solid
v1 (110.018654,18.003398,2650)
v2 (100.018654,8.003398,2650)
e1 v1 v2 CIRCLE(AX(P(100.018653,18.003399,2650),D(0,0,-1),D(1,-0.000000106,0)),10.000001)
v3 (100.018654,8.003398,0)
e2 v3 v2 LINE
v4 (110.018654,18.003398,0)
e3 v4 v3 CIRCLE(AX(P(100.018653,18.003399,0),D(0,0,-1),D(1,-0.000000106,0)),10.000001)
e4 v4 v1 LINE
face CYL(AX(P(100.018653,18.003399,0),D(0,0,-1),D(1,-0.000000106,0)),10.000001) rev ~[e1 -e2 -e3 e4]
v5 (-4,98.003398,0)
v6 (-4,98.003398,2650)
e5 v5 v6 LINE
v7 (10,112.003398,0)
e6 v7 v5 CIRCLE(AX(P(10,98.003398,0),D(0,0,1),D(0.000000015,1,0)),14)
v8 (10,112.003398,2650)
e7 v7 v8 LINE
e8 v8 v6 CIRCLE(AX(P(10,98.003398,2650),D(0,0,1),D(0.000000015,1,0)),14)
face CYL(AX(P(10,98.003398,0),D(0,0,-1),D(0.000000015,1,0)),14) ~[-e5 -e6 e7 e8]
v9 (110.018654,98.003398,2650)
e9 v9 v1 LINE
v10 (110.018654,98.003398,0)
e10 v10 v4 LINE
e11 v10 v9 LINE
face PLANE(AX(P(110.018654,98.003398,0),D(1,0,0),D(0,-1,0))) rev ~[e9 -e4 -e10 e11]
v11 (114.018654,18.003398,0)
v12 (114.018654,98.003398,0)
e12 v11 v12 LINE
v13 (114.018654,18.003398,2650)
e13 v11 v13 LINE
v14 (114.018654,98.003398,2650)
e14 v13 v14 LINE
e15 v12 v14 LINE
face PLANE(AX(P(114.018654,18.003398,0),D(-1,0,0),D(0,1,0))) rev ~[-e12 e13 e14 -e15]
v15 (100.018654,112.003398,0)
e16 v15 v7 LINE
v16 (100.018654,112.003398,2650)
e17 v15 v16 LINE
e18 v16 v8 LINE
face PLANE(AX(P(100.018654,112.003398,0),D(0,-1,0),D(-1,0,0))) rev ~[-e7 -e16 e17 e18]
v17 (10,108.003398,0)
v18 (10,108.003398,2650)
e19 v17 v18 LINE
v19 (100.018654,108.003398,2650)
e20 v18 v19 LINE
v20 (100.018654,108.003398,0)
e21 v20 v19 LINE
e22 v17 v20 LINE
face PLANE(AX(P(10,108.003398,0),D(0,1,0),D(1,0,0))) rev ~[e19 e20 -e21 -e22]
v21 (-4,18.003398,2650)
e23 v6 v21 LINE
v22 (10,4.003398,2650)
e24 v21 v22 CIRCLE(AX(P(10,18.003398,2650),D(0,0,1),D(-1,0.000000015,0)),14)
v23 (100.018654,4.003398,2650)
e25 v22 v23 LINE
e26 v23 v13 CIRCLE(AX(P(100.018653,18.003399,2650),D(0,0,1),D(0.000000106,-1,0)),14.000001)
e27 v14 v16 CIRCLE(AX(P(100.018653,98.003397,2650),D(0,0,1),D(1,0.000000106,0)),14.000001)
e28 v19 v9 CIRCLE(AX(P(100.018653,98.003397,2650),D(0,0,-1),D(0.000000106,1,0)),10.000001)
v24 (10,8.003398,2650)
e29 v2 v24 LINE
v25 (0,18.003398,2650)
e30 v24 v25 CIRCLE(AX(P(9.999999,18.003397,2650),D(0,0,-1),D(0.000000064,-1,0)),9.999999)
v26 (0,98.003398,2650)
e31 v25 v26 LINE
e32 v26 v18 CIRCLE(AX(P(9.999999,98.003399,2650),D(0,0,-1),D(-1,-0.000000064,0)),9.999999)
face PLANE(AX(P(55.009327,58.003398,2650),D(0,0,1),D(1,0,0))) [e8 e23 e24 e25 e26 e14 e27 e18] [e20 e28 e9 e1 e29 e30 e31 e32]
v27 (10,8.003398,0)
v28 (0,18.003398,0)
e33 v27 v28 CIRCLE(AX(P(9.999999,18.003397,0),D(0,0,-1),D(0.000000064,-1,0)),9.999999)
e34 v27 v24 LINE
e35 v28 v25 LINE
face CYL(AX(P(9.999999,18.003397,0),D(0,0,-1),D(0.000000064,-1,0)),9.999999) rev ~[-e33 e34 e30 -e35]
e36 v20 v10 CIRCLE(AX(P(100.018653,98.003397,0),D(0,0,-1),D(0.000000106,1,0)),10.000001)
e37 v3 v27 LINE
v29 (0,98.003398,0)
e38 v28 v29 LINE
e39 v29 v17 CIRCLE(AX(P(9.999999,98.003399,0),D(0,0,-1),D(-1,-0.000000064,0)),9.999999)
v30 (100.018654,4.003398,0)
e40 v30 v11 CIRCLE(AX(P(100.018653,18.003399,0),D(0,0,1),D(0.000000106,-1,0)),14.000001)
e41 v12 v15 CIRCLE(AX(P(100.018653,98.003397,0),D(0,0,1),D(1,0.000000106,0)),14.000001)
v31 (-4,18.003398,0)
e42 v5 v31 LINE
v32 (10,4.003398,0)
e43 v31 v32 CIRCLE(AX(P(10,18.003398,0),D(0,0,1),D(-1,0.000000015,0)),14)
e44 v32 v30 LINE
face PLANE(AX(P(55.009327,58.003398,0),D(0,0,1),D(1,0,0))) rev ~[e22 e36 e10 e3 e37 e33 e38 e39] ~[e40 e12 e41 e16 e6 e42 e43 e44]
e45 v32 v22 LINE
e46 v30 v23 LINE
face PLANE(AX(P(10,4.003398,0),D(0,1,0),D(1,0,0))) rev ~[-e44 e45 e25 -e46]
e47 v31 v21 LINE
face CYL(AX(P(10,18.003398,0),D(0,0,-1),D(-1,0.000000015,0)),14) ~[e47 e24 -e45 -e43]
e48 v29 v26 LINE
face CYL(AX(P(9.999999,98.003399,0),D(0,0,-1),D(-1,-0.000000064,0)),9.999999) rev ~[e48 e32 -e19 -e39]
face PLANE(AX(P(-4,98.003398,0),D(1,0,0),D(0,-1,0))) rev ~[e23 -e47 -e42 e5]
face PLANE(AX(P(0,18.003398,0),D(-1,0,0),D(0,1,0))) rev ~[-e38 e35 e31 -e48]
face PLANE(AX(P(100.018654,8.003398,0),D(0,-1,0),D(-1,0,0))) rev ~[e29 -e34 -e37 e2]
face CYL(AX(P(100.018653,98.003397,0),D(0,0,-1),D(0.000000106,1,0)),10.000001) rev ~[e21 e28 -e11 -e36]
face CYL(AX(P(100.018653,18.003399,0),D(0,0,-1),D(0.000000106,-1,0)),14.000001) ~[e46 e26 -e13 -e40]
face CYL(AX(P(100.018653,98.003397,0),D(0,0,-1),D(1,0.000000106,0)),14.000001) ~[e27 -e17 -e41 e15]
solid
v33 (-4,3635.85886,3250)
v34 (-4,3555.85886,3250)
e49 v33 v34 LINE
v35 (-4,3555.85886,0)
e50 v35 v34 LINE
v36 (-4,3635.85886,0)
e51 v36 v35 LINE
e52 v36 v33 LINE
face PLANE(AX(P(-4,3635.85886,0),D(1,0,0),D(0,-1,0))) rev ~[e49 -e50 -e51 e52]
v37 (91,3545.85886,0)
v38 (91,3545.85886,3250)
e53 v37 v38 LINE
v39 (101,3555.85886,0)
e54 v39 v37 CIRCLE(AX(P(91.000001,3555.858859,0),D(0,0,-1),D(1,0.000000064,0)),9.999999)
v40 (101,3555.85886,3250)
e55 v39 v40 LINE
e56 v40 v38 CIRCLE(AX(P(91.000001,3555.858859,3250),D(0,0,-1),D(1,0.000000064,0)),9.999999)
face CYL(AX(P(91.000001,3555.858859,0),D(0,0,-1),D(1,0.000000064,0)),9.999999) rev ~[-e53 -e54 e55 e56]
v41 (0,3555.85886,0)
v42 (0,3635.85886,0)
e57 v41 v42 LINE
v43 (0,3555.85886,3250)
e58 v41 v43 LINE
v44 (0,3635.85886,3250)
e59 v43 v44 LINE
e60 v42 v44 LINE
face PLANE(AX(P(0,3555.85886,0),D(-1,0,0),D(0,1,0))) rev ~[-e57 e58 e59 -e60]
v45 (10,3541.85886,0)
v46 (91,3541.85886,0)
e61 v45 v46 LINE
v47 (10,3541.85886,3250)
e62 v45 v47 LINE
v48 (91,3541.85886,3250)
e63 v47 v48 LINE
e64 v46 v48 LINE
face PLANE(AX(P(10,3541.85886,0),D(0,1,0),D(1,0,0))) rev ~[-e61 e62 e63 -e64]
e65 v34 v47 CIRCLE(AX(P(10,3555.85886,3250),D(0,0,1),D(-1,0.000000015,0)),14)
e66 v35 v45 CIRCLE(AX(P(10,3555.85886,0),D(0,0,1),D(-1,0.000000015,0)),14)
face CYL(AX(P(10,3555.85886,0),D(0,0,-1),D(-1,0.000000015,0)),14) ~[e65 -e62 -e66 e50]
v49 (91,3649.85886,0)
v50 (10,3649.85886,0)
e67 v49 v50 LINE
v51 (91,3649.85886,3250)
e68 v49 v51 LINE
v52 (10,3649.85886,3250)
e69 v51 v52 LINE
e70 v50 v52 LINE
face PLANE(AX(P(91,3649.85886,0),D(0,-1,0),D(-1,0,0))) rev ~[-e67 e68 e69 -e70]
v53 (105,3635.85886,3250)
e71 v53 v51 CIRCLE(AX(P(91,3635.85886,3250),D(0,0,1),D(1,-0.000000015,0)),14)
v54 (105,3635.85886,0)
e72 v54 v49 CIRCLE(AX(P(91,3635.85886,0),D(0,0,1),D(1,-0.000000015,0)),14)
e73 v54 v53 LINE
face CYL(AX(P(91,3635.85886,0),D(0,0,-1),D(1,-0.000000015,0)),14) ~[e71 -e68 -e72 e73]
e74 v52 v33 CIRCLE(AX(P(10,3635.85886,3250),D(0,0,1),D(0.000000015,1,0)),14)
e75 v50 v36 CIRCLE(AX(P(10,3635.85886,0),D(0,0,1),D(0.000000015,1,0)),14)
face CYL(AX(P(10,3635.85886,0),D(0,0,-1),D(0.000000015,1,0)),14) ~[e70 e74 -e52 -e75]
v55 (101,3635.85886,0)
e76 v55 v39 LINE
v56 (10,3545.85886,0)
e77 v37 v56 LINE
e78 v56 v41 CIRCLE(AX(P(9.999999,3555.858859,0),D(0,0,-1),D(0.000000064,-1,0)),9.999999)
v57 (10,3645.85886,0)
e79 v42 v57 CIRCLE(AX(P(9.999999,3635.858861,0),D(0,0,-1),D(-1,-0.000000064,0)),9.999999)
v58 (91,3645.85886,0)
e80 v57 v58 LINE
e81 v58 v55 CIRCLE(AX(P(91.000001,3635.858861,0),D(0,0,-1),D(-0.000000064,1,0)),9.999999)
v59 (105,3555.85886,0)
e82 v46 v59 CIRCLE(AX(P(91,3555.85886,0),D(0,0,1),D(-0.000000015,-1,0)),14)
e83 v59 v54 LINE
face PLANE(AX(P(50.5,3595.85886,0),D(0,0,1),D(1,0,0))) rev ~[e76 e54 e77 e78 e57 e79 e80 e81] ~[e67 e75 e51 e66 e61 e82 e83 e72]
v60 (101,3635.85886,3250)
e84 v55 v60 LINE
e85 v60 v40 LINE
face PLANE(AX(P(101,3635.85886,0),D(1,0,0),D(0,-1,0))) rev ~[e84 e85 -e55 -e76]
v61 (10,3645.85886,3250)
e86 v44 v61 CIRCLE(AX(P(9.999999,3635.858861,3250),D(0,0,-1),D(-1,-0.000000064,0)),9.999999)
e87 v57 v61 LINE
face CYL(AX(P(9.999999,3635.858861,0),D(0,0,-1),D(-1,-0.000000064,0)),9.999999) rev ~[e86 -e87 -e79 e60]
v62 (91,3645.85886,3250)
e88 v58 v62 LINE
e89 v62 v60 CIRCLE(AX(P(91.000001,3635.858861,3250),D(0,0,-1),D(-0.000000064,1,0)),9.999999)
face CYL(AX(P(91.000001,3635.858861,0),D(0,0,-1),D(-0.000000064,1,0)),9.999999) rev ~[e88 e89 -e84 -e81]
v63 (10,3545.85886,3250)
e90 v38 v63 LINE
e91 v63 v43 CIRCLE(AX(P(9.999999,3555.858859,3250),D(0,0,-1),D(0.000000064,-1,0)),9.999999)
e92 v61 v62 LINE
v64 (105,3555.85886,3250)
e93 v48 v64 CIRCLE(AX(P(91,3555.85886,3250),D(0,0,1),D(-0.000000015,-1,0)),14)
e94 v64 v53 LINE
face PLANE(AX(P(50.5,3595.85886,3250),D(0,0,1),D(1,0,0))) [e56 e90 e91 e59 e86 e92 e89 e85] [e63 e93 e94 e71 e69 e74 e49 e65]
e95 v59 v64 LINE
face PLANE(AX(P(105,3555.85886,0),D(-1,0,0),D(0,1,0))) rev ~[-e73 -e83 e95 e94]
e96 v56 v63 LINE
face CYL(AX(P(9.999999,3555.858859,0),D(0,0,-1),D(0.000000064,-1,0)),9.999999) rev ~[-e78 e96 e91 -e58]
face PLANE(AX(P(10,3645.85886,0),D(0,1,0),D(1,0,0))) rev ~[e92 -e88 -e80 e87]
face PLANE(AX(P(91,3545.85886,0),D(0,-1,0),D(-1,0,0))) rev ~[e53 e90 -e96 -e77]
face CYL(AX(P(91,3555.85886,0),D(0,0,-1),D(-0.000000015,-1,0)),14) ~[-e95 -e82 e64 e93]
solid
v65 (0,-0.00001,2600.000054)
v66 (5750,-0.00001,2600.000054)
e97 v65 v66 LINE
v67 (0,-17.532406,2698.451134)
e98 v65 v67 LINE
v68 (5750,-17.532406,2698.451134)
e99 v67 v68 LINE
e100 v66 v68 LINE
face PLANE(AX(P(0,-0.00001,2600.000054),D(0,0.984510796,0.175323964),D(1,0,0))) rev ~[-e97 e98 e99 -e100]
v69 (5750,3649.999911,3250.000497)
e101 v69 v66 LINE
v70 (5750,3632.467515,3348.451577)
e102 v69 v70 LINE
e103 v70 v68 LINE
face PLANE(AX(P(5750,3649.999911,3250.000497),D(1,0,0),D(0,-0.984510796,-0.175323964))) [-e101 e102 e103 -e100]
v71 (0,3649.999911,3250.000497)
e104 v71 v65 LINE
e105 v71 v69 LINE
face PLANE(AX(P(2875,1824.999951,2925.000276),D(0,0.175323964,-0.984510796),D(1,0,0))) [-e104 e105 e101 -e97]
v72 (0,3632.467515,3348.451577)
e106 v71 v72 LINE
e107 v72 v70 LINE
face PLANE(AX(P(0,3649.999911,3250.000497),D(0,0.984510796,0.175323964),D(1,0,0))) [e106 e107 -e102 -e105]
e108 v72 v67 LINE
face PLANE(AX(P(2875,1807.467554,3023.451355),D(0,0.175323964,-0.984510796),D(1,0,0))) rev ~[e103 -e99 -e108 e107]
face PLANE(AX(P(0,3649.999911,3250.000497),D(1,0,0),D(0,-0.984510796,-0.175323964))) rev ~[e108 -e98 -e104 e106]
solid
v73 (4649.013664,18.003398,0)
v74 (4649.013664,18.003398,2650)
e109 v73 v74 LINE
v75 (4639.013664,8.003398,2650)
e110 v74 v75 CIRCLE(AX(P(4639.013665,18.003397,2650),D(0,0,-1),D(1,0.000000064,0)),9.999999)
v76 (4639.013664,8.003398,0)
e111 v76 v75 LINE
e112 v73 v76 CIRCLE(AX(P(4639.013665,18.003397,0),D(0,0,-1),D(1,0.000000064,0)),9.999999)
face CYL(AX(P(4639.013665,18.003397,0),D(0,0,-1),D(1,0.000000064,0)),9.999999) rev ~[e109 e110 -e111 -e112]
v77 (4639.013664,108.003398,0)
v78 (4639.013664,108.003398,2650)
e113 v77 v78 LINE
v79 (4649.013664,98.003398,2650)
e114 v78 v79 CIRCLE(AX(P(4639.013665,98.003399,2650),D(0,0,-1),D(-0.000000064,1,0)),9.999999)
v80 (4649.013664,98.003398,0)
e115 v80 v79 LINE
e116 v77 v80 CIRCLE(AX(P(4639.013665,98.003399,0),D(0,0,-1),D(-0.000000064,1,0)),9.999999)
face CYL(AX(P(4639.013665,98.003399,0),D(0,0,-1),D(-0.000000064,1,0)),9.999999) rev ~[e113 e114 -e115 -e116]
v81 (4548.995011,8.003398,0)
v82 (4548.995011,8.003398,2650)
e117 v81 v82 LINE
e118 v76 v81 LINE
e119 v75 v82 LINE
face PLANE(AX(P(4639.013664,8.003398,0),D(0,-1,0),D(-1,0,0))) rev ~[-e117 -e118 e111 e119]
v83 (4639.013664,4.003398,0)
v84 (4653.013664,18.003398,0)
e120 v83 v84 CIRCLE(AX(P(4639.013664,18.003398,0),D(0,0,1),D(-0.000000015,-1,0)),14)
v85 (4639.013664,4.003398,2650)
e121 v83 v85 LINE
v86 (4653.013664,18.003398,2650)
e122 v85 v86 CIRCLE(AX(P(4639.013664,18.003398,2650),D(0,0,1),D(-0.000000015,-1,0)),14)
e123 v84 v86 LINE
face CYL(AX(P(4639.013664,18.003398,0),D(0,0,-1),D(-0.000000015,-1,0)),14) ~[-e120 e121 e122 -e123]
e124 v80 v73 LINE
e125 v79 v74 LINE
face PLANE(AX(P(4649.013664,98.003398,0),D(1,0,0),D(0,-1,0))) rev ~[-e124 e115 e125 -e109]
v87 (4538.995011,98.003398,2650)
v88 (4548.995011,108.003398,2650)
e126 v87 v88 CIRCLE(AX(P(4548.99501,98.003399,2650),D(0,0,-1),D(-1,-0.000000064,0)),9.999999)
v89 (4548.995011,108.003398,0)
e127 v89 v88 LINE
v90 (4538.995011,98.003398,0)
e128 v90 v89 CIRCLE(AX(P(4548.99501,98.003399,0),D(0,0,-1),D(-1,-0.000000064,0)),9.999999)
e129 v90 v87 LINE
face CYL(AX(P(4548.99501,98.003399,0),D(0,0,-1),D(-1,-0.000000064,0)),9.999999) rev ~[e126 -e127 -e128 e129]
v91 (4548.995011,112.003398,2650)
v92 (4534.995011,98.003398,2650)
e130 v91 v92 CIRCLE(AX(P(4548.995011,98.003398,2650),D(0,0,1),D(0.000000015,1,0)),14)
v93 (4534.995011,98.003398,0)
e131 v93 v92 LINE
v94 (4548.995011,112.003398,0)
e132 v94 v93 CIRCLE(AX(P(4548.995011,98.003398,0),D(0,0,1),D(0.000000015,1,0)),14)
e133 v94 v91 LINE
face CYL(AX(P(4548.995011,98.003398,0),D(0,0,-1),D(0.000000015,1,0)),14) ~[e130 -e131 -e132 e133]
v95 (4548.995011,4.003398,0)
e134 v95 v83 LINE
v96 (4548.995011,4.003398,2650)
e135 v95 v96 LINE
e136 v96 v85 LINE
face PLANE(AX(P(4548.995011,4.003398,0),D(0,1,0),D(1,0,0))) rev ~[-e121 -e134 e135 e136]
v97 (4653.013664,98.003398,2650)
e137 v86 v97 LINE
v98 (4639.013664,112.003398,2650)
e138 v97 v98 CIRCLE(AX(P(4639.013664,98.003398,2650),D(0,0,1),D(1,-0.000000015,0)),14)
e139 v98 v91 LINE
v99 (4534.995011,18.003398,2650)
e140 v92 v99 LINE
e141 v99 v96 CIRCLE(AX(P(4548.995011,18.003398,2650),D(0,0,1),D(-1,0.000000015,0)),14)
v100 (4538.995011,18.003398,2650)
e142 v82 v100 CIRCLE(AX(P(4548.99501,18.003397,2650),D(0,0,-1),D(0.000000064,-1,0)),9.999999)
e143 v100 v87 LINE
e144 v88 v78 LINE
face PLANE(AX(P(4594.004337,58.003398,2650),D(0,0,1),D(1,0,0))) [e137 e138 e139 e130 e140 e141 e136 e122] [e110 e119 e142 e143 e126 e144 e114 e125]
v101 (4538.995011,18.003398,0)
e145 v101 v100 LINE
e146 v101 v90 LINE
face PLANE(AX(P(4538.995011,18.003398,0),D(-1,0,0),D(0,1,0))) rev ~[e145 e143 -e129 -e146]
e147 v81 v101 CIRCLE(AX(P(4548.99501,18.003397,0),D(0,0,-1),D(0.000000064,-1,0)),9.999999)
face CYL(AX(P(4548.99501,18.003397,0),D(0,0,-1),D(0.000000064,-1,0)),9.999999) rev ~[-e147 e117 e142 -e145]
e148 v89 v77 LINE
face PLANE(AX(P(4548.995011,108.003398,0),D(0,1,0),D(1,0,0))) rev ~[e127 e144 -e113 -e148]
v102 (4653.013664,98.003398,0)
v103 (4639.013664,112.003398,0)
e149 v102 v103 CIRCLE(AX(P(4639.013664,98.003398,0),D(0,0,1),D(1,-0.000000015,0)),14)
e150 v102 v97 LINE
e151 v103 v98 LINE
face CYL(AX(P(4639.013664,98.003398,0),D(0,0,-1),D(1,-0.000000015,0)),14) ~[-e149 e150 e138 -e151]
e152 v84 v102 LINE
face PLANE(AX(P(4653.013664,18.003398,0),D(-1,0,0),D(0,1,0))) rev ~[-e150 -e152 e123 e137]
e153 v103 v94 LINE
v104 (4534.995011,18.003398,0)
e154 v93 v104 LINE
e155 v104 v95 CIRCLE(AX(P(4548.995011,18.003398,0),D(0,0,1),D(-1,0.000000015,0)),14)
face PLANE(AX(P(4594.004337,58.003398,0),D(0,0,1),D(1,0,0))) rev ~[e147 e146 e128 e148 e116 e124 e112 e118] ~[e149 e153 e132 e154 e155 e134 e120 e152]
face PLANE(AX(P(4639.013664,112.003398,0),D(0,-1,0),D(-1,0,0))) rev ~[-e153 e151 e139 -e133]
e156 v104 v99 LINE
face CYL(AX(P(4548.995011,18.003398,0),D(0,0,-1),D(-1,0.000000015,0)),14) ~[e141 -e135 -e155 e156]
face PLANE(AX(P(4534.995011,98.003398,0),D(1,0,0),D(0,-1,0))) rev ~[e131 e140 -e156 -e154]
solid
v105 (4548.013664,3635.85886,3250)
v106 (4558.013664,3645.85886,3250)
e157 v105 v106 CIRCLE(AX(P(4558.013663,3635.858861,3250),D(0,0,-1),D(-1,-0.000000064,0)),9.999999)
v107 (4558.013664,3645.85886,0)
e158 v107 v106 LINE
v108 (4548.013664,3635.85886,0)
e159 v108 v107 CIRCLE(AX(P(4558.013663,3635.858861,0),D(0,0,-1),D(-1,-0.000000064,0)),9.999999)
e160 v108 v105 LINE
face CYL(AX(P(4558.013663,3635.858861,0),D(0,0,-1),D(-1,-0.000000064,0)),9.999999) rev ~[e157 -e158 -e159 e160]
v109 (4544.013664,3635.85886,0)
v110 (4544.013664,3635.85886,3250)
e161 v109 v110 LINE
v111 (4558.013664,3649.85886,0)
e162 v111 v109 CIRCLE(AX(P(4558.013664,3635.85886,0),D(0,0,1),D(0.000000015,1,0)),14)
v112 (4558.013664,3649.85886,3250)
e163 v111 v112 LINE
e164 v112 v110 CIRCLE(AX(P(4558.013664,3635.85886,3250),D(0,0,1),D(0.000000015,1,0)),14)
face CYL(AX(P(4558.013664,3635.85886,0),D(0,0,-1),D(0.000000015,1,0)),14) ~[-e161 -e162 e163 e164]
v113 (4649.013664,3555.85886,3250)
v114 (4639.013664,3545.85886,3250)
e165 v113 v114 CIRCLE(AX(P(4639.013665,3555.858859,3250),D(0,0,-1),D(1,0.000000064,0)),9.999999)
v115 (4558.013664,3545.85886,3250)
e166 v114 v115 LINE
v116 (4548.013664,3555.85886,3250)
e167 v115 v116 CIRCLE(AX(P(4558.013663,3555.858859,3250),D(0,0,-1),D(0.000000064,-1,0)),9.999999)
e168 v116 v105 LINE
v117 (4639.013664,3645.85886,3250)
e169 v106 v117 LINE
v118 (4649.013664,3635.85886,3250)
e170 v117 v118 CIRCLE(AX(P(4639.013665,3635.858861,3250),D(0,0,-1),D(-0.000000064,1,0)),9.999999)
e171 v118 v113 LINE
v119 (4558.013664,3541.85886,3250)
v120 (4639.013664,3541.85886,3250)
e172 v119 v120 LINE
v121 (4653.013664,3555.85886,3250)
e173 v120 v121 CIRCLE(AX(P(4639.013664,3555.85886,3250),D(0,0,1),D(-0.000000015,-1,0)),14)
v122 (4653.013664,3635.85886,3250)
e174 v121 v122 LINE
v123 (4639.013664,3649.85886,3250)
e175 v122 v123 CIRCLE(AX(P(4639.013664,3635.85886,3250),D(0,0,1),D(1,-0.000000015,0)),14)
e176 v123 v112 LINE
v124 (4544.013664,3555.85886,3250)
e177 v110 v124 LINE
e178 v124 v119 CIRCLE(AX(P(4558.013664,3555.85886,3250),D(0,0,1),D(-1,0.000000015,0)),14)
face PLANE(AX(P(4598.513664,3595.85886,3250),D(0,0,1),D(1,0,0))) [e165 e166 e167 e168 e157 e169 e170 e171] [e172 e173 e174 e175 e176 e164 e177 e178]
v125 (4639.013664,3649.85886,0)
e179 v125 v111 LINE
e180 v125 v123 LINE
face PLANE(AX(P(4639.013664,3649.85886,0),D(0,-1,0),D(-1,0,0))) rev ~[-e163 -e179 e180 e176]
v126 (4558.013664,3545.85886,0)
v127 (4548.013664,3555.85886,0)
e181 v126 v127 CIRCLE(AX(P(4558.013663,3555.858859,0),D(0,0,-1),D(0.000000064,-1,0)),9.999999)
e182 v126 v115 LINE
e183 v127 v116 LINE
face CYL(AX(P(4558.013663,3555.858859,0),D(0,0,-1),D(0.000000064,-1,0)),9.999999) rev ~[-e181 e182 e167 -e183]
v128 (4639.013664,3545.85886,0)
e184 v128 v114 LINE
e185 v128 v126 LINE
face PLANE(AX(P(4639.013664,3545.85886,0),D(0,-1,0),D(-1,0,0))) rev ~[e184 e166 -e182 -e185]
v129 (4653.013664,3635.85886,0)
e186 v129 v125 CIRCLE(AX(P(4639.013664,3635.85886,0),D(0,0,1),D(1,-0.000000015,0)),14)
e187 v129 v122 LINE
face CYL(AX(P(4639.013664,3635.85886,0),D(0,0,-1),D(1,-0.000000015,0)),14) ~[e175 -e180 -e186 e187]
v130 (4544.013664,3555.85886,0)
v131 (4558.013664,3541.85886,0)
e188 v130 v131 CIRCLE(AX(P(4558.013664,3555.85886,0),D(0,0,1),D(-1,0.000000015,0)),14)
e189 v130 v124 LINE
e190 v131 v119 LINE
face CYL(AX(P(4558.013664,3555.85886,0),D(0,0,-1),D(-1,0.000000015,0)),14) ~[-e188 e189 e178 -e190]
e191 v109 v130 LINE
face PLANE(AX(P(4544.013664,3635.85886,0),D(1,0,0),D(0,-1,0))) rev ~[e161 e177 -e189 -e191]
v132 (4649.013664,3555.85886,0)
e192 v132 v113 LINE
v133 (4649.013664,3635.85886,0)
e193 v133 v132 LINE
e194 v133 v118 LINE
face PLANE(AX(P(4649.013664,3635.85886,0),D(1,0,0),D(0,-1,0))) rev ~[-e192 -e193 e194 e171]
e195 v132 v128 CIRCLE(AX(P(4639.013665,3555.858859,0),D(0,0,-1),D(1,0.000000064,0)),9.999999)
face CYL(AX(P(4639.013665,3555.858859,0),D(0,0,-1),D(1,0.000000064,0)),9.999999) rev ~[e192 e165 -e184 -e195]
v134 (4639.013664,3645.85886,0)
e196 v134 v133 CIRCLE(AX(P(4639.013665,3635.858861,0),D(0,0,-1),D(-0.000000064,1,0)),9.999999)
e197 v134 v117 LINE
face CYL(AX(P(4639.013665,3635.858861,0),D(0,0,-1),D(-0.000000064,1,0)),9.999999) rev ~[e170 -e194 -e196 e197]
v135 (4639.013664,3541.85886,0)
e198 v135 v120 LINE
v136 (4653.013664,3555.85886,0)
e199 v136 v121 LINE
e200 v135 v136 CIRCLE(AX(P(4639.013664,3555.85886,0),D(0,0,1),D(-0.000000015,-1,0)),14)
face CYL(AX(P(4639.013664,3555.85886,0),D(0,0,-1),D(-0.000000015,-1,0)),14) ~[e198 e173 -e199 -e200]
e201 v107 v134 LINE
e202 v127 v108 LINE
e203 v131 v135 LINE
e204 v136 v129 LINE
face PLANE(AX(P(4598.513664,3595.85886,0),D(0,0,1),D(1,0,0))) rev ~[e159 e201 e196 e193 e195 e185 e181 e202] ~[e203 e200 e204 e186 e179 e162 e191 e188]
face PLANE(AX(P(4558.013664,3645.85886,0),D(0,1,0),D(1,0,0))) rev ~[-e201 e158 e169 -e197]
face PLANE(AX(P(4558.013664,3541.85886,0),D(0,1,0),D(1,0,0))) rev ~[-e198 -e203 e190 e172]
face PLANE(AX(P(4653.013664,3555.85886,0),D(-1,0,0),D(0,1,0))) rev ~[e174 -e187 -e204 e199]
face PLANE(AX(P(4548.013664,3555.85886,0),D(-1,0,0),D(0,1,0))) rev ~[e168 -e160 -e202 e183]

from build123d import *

# Parameters (mm, degrees)
F11_W     = 5750
F11_H     = 3707.424982
F12_DEPTH = 100
F13_DEPTH = 2650
F14_DEPTH = 3250


with BuildPart() as f12:
    # F11 (on face) → F12 (new body)
    with BuildSketch(Plane(origin=(0, -448.781375, 2520.080029), x_dir=(1, 0, 0), z_dir=(0, 0.175324, -0.984511))):
        with Locations((2875, -2309.554486)):
            Rectangle(F11_W, F11_H)
    extrude(amount=-F12_DEPTH)


with BuildPart() as f13:
    # F3 (on Top) → F13 (new body)
    with BuildSketch(Plane.XY):
        with BuildLine():
            Line((10, 4.003398), (100.018654, 4.003398))
            ThreePointArc((100.018654, 4.003398), (109.918148, 8.103903), (114.018654, 18.003398))
            Line((114.018654, 18.003398), (114.018654, 98.003398))
            ThreePointArc((114.018654, 98.003398), (109.918148, 107.902893), (100.018654, 112.003398))
            Line((100.018654, 112.003398), (10, 112.003398))
            ThreePointArc((10, 112.003398), (0.100505, 107.902893), (-4, 98.003398))
            Line((-4, 98.003398), (-4, 18.003398))
            ThreePointArc((-4, 18.003398), (0.100505, 8.103903), (10, 4.003398))
        make_face()
        with BuildLine():
            Line((100.018654, 8.003398), (10, 8.003398))
            ThreePointArc((10, 8.003398), (2.928932, 10.93233), (0, 18.003398))
            Line((0, 18.003398), (0, 98.003398))
            ThreePointArc((0, 98.003398), (2.928932, 105.074466), (10, 108.003398))
            Line((10, 108.003398), (100.018654, 108.003398))
            ThreePointArc((100.018654, 108.003398), (107.089721, 105.074466), (110.018654, 98.003398))
            Line((110.018654, 98.003398), (110.018654, 18.003398))
            ThreePointArc((110.018654, 18.003398), (107.089721, 10.93233), (100.018654, 8.003398))
        make_face(mode=Mode.SUBTRACT)
        with BuildLine():
            Line((4548.995011, 4.003398), (4639.013664, 4.003398))
            ThreePointArc((4639.013664, 4.003398), (4648.913159, 8.103903), (4653.013664, 18.003398))
            Line((4653.013664, 18.003398), (4653.013664, 98.003398))
            ThreePointArc((4653.013664, 98.003398), (4648.913159, 107.902893), (4639.013664, 112.003398))
            Line((4639.013664, 112.003398), (4548.995011, 112.003398))
            ThreePointArc((4548.995011, 112.003398), (4539.095516, 107.902893), (4534.995011, 98.003398))
            Line((4534.995011, 98.003398), (4534.995011, 18.003398))
            ThreePointArc((4534.995011, 18.003398), (4539.095516, 8.103903), (4548.995011, 4.003398))
        make_face()
        with BuildLine():
            Line((4639.013664, 8.003398), (4548.995011, 8.003398))
            ThreePointArc((4548.995011, 8.003398), (4541.923943, 10.93233), (4538.995011, 18.003398))
            Line((4538.995011, 18.003398), (4538.995011, 98.003398))
            ThreePointArc((4538.995011, 98.003398), (4541.923943, 105.074466), (4548.995011, 108.003398))
            Line((4548.995011, 108.003398), (4639.013664, 108.003398))
            ThreePointArc((4639.013664, 108.003398), (4646.084732, 105.074466), (4649.013664, 98.003398))
            Line((4649.013664, 98.003398), (4649.013664, 18.003398))
            ThreePointArc((4649.013664, 18.003398), (4646.084732, 10.93233), (4639.013664, 8.003398))
        make_face(mode=Mode.SUBTRACT)
    extrude(amount=F13_DEPTH)


with BuildPart() as f14:
    # F3 (on Top) → F14 (new body)
    with BuildSketch(Plane.XY):
        with BuildLine():
            Line((10, 3541.85886), (91, 3541.85886))
            ThreePointArc((91, 3541.85886), (100.899495, 3545.959365), (105, 3555.85886))
            Line((105, 3555.85886), (105, 3635.85886))
            ThreePointArc((105, 3635.85886), (100.899495, 3645.758355), (91, 3649.85886))
            Line((91, 3649.85886), (10, 3649.85886))
            ThreePointArc((10, 3649.85886), (0.100505, 3645.758355), (-4, 3635.85886))
            Line((-4, 3635.85886), (-4, 3555.85886))
            ThreePointArc((-4, 3555.85886), (0.100505, 3545.959365), (10, 3541.85886))
        make_face()
        with BuildLine():
            Line((91, 3545.85886), (10, 3545.85886))
            ThreePointArc((10, 3545.85886), (2.928932, 3548.787792), (0, 3555.85886))
            Line((0, 3555.85886), (0, 3635.85886))
            ThreePointArc((0, 3635.85886), (2.928932, 3642.929928), (10, 3645.85886))
            Line((10, 3645.85886), (91, 3645.85886))
            ThreePointArc((91, 3645.85886), (98.071068, 3642.929928), (101, 3635.85886))
            Line((101, 3635.85886), (101, 3555.85886))
            ThreePointArc((101, 3555.85886), (98.071068, 3548.787792), (91, 3545.85886))
        make_face(mode=Mode.SUBTRACT)
        with BuildLine():
            Line((4558.013664, 3541.85886), (4639.013664, 3541.85886))
            ThreePointArc((4639.013664, 3541.85886), (4648.913159, 3545.959365), (4653.013664, 3555.85886))
            Line((4653.013664, 3555.85886), (4653.013664, 3635.85886))
            ThreePointArc((4653.013664, 3635.85886), (4648.913159, 3645.758355), (4639.013664, 3649.85886))
            Line((4639.013664, 3649.85886), (4558.013664, 3649.85886))
            ThreePointArc((4558.013664, 3649.85886), (4548.114169, 3645.758355), (4544.013664, 3635.85886))
            Line((4544.013664, 3635.85886), (4544.013664, 3555.85886))
            ThreePointArc((4544.013664, 3555.85886), (4548.114169, 3545.959365), (4558.013664, 3541.85886))
        make_face()
        with BuildLine():
            Line((4639.013664, 3545.85886), (4558.013664, 3545.85886))
            ThreePointArc((4558.013664, 3545.85886), (4550.942596, 3548.787792), (4548.013664, 3555.85886))
            Line((4548.013664, 3555.85886), (4548.013664, 3635.85886))
            ThreePointArc((4548.013664, 3635.85886), (4550.942596, 3642.929928), (4558.013664, 3645.85886))
            Line((4558.013664, 3645.85886), (4639.013664, 3645.85886))
            ThreePointArc((4639.013664, 3645.85886), (4646.084732, 3642.929928), (4649.013664, 3635.85886))
            Line((4649.013664, 3635.85886), (4649.013664, 3555.85886))
            ThreePointArc((4649.013664, 3555.85886), (4646.084732, 3548.787792), (4639.013664, 3545.85886))
        make_face(mode=Mode.SUBTRACT)
    extrude(amount=F14_DEPTH)


solid = Compound([f12.part, f13.part, f14.part])
